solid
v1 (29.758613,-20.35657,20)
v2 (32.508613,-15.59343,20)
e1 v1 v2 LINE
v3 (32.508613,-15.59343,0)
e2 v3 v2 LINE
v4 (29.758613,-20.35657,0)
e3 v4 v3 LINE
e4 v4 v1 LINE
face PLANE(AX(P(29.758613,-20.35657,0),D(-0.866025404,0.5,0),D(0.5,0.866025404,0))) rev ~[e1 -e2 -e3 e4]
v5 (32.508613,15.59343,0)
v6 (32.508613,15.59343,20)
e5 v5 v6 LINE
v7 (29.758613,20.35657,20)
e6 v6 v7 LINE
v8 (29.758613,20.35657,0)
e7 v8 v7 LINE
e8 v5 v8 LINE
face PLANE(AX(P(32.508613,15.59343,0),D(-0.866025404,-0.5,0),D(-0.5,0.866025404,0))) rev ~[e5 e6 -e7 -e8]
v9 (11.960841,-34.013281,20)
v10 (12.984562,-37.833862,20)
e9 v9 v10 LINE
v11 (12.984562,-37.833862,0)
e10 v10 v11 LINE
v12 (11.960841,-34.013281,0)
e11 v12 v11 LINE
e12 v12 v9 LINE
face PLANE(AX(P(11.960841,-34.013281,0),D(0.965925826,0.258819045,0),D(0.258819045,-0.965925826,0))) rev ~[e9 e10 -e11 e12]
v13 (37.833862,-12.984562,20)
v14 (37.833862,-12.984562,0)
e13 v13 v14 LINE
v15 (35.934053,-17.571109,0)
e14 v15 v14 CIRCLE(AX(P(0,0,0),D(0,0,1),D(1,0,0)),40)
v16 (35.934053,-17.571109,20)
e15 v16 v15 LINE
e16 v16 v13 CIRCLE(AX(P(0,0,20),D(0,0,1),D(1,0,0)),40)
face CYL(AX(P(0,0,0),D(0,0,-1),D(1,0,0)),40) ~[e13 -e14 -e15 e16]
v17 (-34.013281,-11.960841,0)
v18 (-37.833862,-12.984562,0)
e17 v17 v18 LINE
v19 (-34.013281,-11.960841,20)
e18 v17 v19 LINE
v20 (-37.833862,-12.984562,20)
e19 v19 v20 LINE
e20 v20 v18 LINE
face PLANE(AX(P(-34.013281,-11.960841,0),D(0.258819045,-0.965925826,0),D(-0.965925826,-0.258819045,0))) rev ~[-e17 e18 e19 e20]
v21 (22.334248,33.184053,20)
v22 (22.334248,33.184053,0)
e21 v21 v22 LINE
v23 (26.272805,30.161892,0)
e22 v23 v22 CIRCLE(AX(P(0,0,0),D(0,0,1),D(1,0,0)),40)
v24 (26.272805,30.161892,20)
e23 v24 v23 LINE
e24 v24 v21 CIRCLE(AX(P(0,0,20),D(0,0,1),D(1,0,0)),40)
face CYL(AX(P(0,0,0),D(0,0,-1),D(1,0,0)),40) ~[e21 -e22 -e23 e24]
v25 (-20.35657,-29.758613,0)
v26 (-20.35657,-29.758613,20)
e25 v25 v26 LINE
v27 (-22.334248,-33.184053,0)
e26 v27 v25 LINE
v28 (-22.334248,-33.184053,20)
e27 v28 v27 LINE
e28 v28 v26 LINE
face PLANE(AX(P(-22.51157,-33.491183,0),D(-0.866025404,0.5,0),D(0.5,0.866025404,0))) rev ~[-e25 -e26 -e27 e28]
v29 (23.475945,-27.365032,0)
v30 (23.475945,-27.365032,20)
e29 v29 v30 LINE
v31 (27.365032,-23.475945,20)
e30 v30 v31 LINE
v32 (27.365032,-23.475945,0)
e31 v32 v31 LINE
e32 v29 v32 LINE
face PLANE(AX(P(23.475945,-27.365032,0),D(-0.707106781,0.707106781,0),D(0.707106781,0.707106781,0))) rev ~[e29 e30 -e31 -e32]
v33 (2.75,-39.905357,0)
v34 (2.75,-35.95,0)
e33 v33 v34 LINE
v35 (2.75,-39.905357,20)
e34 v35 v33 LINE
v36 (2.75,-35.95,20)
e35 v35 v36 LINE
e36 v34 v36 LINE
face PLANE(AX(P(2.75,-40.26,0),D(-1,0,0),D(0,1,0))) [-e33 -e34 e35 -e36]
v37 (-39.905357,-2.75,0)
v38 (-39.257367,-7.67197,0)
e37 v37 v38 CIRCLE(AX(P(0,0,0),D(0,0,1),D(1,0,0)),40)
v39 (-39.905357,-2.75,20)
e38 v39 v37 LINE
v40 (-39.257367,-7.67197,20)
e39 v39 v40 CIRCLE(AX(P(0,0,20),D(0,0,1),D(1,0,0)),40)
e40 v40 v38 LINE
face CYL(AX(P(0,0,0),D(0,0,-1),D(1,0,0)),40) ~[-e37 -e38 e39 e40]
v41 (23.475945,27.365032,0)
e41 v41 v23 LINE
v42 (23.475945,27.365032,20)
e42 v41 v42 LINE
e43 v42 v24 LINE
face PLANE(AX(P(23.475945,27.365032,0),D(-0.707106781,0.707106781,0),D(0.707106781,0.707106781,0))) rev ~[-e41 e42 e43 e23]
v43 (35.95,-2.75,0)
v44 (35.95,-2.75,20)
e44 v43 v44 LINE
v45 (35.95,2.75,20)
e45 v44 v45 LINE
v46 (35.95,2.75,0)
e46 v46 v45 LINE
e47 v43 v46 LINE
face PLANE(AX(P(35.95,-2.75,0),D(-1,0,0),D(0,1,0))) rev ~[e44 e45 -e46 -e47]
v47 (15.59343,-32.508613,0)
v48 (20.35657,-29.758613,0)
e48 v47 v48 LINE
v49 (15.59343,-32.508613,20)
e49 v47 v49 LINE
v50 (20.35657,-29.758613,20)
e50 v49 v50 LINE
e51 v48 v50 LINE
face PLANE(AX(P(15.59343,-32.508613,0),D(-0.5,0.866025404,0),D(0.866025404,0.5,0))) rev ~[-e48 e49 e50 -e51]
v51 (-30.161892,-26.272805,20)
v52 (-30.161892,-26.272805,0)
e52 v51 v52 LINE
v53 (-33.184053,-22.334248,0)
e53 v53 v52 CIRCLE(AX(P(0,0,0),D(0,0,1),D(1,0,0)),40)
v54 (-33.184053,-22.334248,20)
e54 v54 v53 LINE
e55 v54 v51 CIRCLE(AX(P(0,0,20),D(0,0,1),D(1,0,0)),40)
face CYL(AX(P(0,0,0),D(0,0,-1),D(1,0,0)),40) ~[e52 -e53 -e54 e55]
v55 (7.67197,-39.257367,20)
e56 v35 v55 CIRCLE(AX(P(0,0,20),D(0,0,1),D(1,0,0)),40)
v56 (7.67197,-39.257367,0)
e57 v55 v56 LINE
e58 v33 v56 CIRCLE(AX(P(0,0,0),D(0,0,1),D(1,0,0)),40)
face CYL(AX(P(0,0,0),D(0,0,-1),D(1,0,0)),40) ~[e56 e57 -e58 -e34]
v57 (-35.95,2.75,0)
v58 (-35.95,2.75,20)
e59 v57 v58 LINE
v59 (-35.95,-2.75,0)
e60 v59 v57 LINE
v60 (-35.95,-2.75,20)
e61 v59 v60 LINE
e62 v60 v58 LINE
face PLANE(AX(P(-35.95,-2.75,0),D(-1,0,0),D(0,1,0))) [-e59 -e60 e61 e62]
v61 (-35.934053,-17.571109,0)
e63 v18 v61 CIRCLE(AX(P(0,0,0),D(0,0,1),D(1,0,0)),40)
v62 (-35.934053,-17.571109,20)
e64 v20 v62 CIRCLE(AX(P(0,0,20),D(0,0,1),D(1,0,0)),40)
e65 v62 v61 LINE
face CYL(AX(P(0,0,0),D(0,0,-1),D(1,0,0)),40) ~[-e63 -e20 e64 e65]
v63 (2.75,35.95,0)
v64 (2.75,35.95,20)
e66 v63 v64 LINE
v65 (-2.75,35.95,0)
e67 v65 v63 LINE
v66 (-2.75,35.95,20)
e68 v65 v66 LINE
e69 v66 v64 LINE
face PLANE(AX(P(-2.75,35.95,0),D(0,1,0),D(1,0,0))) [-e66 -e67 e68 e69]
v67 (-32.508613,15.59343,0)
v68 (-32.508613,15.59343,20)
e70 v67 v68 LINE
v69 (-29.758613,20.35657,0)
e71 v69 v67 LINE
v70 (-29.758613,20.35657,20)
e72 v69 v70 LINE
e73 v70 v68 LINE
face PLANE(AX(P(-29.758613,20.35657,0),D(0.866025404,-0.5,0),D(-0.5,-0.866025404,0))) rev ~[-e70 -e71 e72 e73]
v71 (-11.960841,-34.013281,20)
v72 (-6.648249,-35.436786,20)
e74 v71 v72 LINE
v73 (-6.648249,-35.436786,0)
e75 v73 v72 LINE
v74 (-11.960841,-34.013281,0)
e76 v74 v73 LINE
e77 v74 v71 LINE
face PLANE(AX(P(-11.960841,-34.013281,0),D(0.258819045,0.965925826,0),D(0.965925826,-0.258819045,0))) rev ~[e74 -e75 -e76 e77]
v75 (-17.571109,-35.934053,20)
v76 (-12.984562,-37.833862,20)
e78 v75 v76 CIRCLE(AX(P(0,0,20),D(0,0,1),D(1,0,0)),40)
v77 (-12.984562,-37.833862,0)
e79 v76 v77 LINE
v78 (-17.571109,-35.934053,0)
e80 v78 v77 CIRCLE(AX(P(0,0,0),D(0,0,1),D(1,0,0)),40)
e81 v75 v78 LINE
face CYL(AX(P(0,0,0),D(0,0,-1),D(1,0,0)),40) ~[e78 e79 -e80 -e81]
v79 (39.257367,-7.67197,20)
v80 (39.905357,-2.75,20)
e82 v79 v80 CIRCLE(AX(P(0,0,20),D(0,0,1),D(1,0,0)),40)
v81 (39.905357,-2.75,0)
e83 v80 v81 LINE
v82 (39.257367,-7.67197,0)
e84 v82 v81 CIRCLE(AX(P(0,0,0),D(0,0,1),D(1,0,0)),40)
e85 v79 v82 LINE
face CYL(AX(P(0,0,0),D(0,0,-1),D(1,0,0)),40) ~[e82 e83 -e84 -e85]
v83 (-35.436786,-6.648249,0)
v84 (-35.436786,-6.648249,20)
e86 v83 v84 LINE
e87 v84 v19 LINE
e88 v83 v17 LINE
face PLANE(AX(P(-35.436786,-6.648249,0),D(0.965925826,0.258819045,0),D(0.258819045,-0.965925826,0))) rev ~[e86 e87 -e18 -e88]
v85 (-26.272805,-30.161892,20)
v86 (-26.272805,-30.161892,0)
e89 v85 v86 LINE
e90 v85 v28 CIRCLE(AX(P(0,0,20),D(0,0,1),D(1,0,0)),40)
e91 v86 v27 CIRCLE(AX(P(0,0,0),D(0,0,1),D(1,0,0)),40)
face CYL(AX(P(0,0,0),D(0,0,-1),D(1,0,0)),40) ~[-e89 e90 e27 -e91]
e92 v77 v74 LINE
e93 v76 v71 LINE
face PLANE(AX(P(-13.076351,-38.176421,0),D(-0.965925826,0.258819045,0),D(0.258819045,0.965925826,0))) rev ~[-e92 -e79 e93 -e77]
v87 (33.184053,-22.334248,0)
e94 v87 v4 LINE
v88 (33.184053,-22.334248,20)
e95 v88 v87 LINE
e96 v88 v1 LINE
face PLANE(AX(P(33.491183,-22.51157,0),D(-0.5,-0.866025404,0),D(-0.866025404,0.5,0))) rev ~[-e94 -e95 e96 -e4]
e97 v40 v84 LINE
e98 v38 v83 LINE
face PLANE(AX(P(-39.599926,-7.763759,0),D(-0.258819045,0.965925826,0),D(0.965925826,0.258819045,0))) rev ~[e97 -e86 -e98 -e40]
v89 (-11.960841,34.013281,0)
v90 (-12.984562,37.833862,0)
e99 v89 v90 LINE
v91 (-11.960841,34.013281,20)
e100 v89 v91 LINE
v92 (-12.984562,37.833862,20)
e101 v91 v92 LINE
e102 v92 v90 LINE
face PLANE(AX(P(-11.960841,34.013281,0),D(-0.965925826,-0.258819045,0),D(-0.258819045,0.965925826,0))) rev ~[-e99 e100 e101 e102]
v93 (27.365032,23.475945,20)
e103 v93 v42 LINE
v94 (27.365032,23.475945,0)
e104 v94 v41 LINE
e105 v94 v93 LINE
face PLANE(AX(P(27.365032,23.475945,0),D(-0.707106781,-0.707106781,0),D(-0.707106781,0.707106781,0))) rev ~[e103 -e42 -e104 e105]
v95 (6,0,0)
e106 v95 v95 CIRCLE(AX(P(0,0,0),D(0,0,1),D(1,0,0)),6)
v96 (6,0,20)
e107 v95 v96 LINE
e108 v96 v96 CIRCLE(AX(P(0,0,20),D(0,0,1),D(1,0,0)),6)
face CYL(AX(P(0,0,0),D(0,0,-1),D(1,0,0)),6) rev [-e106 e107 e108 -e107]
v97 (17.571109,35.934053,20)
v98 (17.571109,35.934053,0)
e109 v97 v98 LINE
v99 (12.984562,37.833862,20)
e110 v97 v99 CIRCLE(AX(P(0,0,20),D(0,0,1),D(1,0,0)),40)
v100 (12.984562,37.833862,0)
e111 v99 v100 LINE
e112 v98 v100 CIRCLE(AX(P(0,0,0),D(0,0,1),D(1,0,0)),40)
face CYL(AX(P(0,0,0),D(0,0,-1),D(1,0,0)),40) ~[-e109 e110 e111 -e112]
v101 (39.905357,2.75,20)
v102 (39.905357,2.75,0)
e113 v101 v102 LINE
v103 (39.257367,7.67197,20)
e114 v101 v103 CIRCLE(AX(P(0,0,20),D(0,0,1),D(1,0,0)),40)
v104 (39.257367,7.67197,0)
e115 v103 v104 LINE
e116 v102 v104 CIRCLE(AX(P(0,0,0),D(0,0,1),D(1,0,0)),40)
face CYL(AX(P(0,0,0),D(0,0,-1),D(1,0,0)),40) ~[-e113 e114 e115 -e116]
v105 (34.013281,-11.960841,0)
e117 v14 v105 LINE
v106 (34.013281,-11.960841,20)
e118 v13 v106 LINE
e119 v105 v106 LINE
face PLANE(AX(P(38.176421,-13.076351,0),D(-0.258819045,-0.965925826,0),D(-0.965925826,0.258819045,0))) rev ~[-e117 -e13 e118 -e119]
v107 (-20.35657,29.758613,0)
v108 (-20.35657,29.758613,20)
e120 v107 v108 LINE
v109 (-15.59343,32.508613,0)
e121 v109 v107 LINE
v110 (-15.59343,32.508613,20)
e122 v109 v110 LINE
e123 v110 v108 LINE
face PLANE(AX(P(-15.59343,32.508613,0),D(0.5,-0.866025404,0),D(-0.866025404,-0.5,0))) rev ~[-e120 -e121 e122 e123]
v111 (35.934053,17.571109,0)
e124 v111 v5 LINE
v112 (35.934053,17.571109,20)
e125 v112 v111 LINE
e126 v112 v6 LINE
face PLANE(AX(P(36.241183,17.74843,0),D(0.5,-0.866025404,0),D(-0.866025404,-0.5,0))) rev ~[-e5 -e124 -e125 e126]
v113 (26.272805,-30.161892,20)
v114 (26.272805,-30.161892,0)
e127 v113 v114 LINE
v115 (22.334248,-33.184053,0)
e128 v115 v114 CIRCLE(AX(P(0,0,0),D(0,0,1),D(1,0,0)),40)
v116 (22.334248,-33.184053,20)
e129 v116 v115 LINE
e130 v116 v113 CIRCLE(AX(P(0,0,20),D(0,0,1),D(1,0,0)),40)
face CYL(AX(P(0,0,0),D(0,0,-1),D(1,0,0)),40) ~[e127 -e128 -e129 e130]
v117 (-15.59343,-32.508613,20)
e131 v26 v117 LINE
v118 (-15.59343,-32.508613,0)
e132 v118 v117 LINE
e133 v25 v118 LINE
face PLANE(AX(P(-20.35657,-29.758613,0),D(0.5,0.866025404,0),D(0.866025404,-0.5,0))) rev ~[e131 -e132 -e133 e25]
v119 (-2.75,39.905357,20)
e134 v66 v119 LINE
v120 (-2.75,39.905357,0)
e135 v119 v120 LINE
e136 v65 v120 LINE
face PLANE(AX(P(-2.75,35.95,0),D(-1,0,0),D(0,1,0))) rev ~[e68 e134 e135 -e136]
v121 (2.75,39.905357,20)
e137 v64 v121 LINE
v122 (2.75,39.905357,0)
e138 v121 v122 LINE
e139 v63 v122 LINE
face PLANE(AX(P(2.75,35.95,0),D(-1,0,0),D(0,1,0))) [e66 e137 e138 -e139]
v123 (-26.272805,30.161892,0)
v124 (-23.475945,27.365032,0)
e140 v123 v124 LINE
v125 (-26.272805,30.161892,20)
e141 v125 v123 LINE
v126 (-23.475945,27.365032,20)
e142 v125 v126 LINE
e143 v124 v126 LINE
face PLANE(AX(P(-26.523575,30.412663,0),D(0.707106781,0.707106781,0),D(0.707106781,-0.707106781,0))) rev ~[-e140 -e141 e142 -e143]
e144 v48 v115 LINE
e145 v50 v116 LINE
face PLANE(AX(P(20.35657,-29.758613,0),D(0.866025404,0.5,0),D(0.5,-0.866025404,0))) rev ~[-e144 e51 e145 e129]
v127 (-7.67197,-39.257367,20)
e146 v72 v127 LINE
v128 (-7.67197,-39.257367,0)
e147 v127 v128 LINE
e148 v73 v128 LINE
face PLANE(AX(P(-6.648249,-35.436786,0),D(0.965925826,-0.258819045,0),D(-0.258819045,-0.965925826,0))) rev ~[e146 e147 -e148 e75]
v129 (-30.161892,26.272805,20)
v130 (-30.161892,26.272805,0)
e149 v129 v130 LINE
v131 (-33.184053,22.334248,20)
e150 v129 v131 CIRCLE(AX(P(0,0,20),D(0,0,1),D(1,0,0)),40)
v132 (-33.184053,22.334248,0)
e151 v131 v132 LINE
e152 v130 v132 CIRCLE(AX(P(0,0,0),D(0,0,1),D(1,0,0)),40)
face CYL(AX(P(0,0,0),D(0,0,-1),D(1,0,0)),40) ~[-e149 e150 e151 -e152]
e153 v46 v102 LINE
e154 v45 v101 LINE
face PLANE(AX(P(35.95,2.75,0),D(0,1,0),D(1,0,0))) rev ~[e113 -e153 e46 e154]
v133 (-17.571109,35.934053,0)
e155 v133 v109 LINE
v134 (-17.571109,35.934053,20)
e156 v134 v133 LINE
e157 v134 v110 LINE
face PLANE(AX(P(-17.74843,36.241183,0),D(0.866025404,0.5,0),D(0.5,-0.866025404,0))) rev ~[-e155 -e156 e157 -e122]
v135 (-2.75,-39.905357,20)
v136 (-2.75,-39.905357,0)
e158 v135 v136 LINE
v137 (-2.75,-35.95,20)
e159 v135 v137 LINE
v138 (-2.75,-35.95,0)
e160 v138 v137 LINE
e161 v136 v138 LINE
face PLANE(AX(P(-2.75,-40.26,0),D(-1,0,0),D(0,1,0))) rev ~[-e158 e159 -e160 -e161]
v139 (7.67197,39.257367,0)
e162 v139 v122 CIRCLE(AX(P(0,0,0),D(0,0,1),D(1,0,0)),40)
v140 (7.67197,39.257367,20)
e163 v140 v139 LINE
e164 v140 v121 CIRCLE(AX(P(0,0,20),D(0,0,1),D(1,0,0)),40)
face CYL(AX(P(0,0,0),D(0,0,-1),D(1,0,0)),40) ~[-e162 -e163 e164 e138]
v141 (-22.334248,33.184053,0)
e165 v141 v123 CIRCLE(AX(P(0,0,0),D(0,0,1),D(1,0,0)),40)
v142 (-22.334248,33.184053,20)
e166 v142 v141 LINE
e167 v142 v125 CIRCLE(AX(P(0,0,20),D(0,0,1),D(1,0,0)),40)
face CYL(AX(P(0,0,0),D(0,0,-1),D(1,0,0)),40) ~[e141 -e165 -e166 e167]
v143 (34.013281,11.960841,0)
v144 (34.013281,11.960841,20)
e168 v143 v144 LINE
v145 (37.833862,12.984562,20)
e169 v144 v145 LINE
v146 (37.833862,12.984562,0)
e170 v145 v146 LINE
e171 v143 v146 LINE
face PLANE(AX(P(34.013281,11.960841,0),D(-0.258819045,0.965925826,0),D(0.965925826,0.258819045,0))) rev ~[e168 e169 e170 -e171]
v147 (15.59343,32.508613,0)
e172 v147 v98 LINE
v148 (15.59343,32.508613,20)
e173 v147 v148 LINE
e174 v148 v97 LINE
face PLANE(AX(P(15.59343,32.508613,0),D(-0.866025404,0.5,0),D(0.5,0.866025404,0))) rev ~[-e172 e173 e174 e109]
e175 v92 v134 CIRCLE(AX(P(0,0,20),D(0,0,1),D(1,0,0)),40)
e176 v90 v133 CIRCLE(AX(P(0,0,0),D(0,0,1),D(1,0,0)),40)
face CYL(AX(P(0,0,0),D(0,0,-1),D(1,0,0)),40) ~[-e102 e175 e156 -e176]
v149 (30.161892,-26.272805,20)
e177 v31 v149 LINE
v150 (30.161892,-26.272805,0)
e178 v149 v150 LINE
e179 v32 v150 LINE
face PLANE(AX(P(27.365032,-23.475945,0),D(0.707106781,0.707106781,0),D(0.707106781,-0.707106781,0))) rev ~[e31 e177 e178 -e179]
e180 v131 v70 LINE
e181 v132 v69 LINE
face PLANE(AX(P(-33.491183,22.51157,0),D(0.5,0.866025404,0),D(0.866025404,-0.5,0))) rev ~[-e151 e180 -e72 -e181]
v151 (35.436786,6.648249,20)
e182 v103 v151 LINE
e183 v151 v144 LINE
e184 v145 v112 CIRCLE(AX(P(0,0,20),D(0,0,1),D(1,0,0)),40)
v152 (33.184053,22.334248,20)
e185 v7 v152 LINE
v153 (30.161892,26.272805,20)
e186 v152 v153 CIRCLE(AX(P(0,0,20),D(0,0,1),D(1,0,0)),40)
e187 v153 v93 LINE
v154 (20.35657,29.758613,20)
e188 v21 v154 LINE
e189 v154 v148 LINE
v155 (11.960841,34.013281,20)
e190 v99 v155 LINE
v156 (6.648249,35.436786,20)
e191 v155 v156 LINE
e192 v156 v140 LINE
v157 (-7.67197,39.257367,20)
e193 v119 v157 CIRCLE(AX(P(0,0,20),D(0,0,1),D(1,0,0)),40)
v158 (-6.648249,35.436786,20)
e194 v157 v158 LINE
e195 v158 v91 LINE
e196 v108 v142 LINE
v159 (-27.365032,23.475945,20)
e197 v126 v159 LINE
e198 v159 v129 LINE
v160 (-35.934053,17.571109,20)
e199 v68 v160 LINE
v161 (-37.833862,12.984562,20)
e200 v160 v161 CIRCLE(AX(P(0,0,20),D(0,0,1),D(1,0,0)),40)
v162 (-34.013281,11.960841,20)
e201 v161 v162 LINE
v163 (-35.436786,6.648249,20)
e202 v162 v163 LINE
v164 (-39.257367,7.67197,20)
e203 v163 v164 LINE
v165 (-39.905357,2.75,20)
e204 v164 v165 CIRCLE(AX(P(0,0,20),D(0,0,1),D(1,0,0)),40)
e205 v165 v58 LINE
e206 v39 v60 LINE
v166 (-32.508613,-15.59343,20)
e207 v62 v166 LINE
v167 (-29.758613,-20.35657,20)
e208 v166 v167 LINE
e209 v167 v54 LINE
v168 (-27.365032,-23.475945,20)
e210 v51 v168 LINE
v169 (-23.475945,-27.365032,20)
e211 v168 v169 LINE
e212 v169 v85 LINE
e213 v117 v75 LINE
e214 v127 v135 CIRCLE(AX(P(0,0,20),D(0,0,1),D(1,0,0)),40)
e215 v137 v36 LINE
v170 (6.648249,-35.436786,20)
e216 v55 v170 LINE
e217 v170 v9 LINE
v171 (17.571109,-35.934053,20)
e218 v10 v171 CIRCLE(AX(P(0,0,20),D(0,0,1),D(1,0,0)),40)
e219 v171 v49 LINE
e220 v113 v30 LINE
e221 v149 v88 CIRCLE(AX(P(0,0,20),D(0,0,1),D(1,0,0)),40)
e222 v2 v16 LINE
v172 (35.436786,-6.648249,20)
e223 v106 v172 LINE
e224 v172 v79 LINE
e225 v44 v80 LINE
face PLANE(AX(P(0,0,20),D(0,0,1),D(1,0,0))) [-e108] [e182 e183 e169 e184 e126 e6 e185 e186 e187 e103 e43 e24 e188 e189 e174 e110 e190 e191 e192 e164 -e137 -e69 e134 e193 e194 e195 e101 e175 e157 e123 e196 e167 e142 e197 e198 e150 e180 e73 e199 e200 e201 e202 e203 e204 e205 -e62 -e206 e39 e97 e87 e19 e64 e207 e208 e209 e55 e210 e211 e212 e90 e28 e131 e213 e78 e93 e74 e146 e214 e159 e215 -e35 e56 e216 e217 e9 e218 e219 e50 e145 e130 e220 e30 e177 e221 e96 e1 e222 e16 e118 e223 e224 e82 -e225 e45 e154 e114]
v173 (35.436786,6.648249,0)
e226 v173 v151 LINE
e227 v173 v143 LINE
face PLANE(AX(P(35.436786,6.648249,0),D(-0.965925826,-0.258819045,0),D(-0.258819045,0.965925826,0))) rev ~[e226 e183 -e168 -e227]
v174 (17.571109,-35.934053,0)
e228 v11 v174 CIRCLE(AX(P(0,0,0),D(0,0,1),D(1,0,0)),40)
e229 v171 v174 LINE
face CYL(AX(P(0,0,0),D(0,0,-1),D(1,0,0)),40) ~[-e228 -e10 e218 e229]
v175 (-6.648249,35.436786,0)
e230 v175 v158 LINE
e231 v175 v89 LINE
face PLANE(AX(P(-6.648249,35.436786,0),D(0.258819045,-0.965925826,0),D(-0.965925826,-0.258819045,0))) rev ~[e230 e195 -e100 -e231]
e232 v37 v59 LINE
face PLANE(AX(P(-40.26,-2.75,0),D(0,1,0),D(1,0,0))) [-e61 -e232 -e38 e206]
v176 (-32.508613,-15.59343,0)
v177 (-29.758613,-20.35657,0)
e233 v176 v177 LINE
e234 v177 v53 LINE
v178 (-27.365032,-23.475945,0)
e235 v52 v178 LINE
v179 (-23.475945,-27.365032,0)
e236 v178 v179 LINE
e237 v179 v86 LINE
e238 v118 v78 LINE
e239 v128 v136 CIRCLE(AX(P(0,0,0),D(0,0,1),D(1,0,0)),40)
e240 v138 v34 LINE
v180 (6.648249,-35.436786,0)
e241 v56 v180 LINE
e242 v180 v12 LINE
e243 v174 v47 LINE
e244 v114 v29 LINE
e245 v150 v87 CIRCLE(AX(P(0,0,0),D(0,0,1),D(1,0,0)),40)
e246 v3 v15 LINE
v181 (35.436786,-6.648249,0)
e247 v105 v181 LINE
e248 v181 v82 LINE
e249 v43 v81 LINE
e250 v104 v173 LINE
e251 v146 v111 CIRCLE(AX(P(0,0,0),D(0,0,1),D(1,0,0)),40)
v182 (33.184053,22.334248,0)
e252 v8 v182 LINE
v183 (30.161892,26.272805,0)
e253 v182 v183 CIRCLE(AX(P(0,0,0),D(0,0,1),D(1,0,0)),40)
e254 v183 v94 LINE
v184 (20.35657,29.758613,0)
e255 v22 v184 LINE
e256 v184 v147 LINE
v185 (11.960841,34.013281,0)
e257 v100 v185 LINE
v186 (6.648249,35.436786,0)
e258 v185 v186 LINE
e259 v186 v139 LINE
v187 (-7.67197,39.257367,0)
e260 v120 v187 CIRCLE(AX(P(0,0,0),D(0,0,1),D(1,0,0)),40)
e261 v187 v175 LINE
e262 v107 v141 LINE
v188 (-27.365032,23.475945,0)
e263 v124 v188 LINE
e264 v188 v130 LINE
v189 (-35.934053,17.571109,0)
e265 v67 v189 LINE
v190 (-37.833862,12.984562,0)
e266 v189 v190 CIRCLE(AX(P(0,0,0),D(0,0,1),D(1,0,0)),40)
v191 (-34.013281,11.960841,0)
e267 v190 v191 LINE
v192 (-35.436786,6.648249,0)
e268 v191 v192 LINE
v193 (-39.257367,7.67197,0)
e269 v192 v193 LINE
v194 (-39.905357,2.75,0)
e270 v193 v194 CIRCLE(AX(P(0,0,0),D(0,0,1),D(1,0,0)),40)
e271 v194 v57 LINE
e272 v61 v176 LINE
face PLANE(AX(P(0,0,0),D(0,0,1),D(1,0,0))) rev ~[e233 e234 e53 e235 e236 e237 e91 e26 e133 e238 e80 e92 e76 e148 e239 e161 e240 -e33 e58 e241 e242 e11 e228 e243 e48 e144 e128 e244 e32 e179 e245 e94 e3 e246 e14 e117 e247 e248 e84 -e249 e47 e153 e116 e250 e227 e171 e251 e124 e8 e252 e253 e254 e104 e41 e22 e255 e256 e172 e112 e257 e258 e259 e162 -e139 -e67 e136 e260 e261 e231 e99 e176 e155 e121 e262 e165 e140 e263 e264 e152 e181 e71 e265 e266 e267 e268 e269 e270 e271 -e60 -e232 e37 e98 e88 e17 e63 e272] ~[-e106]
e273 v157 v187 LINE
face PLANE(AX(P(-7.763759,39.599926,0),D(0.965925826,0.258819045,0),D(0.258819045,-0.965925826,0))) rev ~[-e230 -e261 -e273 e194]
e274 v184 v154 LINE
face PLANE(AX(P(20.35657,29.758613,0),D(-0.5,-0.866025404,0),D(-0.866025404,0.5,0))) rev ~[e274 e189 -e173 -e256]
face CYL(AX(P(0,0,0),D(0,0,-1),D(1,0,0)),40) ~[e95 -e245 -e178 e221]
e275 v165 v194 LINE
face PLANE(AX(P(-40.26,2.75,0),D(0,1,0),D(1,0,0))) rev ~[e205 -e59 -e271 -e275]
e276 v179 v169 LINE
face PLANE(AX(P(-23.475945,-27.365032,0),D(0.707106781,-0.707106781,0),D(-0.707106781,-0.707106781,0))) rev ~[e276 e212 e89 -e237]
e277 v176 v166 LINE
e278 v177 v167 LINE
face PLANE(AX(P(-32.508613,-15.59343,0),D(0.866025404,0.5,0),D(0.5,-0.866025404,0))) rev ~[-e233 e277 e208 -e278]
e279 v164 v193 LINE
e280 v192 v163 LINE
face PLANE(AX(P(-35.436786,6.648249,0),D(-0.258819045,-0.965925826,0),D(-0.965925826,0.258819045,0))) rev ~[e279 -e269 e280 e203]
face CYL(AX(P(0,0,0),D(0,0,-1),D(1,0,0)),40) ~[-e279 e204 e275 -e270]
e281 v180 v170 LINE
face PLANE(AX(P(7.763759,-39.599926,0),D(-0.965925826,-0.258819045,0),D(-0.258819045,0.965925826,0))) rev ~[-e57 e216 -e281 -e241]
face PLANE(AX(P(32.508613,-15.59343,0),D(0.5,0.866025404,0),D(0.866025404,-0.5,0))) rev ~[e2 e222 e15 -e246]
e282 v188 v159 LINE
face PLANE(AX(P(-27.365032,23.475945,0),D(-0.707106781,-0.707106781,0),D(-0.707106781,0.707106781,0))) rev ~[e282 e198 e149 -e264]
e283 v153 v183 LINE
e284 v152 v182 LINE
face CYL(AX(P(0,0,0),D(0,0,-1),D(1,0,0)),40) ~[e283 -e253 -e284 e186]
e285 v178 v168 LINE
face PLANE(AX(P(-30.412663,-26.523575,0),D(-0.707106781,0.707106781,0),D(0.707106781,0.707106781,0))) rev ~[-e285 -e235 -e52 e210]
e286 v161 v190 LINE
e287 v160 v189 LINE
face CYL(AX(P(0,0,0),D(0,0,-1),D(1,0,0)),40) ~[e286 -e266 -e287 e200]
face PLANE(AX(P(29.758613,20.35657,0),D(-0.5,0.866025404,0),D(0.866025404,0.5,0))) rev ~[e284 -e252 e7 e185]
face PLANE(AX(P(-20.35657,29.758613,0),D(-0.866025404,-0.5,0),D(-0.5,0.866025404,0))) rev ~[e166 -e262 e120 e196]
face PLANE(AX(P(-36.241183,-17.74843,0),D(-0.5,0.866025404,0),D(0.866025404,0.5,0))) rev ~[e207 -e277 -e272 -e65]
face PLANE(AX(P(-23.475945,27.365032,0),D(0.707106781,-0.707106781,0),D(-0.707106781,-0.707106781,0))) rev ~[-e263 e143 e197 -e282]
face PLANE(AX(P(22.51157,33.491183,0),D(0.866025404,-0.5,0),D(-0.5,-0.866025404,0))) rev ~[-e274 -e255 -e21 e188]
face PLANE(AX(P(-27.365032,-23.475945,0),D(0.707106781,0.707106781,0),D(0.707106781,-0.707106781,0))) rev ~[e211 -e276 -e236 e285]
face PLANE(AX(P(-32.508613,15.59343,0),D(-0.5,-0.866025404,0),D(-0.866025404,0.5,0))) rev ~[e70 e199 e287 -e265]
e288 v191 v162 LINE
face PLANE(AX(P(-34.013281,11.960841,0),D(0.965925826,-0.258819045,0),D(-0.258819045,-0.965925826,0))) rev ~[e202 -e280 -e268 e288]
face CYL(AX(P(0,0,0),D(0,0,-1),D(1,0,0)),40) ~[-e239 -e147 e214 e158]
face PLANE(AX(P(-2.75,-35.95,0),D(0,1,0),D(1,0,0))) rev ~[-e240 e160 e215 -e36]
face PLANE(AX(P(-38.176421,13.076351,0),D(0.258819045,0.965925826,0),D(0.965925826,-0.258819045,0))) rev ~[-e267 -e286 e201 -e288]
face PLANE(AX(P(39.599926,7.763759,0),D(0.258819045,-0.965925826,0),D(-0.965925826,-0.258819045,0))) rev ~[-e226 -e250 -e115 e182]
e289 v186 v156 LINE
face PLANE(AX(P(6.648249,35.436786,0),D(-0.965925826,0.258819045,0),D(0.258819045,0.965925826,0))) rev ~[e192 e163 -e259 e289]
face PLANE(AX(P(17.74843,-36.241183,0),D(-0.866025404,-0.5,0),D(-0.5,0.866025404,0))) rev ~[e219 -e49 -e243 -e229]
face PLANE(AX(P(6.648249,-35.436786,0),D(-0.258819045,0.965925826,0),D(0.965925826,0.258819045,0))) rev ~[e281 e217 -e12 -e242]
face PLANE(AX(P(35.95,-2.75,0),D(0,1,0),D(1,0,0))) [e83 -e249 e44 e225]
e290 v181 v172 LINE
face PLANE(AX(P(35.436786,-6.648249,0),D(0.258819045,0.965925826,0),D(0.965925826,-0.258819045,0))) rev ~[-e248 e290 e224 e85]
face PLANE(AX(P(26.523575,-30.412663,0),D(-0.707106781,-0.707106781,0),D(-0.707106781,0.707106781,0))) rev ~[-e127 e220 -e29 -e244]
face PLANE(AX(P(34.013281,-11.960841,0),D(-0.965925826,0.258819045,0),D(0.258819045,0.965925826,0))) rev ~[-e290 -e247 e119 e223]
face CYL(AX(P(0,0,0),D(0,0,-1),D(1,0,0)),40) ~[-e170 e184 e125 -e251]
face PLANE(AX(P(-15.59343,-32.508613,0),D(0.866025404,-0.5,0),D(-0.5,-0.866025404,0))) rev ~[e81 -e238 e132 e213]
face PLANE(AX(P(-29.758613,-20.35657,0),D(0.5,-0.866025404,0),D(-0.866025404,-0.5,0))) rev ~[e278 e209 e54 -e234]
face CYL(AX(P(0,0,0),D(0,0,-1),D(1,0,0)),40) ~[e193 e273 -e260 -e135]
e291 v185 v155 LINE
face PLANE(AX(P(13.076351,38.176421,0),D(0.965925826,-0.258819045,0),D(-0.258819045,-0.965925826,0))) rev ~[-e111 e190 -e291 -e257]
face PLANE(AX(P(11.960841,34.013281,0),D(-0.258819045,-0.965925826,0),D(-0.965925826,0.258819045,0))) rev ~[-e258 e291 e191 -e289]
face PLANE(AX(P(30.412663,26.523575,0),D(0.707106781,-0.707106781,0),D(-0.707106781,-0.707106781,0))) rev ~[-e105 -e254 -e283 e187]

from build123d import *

# Parameters (mm, degrees)
SKETCH2_R           = 40
BOSS_EXTRUDE1_DEPTH = 20
SKETCH3_W           = 5.5
SKETCH3_H           = 4.31
SKETCH3_W_2         = 4.31
SKETCH3_H_2         = 5.5
CUT_EXTRUDE1_DEPTH  = 20
SKETCH4_R           = 6
CUT_EXTRUDE2_DEPTH  = 20


with BuildPart() as part:
    # Sketch2 → Boss-Extrude1 (new body)
    with BuildSketch(Plane.XY):
        Circle(SKETCH2_R)
    extrude(amount=BOSS_EXTRUDE1_DEPTH)

    # Sketch3 → Cut-Extrude1 (cut)
    with BuildSketch(Plane.XY):
        Polygon((-6.648248649, -35.436785829), (-7.763758734, -39.59992614), (-13.076350778, -38.176421392), (-11.960840694, -34.013281081), align=None)
        with Locations((0, -38.105)):
            Rectangle(SKETCH3_W, SKETCH3_H)
        Polygon((-15.59343014, -32.508613266), (-17.74843014, -36.241182756), (-22.51156986, -33.491182756), (-20.35656986, -29.758613266), align=None)
        Polygon((-23.475945135, -27.365032432), (-26.523575362, -30.412662659), (-30.412662659, -26.523575362), (-27.365032432, -23.475945135), align=None)
        Polygon((-29.758613266, -20.35656986), (-33.491182756, -22.51156986), (-36.241182756, -17.74843014), (-32.508613266, -15.59343014), align=None)
        Polygon((-34.013281081, -11.960840694), (-38.176421392, -13.076350778), (-39.59992614, -7.763758734), (-35.436785829, -6.648248649), align=None)
        with Locations((-38.105, 0)):
            Rectangle(SKETCH3_W_2, SKETCH3_H_2)
        Polygon((-35.436785829, 6.648248649), (-39.59992614, 7.763758734), (-38.176421392, 13.076350778), (-34.013281081, 11.960840694), align=None)
        Polygon((-32.508613266, 15.59343014), (-36.241182756, 17.74843014), (-33.491182756, 22.51156986), (-29.758613266, 20.35656986), align=None)
        Polygon((-27.365032432, 23.475945135), (-30.412662659, 26.523575362), (-26.523575362, 30.412662659), (-23.475945135, 27.365032432), align=None)
        Polygon((-20.35656986, 29.758613266), (-22.51156986, 33.491182756), (-17.74843014, 36.241182756), (-15.59343014, 32.508613266), align=None)
        Polygon((-11.960840694, 34.013281081), (-13.076350778, 38.176421392), (-7.763758734, 39.59992614), (-6.648248649, 35.436785829), align=None)
        with Locations((0, 38.105)):
            Rectangle(SKETCH3_W, SKETCH3_H)
        Polygon((6.648248649, 35.436785829), (7.763758734, 39.59992614), (13.076350778, 38.176421392), (11.960840694, 34.013281081), align=None)
        Polygon((15.59343014, 32.508613266), (17.74843014, 36.241182756), (22.51156986, 33.491182756), (20.35656986, 29.758613266), align=None)
        Polygon((23.475945135, 27.365032432), (26.523575362, 30.412662659), (30.412662659, 26.523575362), (27.365032432, 23.475945135), align=None)
        Polygon((29.758613266, 20.35656986), (33.491182756, 22.51156986), (36.241182756, 17.74843014), (32.508613266, 15.59343014), align=None)
        Polygon((34.013281081, 11.960840694), (38.176421392, 13.076350778), (39.59992614, 7.763758734), (35.436785829, 6.648248649), align=None)
        with Locations((38.105, 0)):
            Rectangle(SKETCH3_W_2, SKETCH3_H_2)
        Polygon((35.436785829, -6.648248649), (39.59992614, -7.763758734), (38.176421392, -13.076350778), (34.013281081, -11.960840694), align=None)
        Polygon((32.508613266, -15.59343014), (36.241182756, -17.74843014), (33.491182756, -22.51156986), (29.758613266, -20.35656986), align=None)
        Polygon((27.365032432, -23.475945135), (30.412662659, -26.523575362), (26.523575362, -30.412662659), (23.475945135, -27.365032432), align=None)
        Polygon((20.35656986, -29.758613266), (22.51156986, -33.491182756), (17.74843014, -36.241182756), (15.59343014, -32.508613266), align=None)
        Polygon((11.960840694, -34.013281081), (13.076350778, -38.176421392), (7.763758734, -39.59992614), (6.648248649, -35.436785829), align=None)
    extrude(amount=CUT_EXTRUDE1_DEPTH, mode=Mode.SUBTRACT)

    # Sketch4 → Cut-Extrude2 (cut)
    with BuildSketch(Plane.XY):
        Circle(SKETCH4_R)
    extrude(amount=CUT_EXTRUDE2_DEPTH, mode=Mode.SUBTRACT)


solid = part.part
